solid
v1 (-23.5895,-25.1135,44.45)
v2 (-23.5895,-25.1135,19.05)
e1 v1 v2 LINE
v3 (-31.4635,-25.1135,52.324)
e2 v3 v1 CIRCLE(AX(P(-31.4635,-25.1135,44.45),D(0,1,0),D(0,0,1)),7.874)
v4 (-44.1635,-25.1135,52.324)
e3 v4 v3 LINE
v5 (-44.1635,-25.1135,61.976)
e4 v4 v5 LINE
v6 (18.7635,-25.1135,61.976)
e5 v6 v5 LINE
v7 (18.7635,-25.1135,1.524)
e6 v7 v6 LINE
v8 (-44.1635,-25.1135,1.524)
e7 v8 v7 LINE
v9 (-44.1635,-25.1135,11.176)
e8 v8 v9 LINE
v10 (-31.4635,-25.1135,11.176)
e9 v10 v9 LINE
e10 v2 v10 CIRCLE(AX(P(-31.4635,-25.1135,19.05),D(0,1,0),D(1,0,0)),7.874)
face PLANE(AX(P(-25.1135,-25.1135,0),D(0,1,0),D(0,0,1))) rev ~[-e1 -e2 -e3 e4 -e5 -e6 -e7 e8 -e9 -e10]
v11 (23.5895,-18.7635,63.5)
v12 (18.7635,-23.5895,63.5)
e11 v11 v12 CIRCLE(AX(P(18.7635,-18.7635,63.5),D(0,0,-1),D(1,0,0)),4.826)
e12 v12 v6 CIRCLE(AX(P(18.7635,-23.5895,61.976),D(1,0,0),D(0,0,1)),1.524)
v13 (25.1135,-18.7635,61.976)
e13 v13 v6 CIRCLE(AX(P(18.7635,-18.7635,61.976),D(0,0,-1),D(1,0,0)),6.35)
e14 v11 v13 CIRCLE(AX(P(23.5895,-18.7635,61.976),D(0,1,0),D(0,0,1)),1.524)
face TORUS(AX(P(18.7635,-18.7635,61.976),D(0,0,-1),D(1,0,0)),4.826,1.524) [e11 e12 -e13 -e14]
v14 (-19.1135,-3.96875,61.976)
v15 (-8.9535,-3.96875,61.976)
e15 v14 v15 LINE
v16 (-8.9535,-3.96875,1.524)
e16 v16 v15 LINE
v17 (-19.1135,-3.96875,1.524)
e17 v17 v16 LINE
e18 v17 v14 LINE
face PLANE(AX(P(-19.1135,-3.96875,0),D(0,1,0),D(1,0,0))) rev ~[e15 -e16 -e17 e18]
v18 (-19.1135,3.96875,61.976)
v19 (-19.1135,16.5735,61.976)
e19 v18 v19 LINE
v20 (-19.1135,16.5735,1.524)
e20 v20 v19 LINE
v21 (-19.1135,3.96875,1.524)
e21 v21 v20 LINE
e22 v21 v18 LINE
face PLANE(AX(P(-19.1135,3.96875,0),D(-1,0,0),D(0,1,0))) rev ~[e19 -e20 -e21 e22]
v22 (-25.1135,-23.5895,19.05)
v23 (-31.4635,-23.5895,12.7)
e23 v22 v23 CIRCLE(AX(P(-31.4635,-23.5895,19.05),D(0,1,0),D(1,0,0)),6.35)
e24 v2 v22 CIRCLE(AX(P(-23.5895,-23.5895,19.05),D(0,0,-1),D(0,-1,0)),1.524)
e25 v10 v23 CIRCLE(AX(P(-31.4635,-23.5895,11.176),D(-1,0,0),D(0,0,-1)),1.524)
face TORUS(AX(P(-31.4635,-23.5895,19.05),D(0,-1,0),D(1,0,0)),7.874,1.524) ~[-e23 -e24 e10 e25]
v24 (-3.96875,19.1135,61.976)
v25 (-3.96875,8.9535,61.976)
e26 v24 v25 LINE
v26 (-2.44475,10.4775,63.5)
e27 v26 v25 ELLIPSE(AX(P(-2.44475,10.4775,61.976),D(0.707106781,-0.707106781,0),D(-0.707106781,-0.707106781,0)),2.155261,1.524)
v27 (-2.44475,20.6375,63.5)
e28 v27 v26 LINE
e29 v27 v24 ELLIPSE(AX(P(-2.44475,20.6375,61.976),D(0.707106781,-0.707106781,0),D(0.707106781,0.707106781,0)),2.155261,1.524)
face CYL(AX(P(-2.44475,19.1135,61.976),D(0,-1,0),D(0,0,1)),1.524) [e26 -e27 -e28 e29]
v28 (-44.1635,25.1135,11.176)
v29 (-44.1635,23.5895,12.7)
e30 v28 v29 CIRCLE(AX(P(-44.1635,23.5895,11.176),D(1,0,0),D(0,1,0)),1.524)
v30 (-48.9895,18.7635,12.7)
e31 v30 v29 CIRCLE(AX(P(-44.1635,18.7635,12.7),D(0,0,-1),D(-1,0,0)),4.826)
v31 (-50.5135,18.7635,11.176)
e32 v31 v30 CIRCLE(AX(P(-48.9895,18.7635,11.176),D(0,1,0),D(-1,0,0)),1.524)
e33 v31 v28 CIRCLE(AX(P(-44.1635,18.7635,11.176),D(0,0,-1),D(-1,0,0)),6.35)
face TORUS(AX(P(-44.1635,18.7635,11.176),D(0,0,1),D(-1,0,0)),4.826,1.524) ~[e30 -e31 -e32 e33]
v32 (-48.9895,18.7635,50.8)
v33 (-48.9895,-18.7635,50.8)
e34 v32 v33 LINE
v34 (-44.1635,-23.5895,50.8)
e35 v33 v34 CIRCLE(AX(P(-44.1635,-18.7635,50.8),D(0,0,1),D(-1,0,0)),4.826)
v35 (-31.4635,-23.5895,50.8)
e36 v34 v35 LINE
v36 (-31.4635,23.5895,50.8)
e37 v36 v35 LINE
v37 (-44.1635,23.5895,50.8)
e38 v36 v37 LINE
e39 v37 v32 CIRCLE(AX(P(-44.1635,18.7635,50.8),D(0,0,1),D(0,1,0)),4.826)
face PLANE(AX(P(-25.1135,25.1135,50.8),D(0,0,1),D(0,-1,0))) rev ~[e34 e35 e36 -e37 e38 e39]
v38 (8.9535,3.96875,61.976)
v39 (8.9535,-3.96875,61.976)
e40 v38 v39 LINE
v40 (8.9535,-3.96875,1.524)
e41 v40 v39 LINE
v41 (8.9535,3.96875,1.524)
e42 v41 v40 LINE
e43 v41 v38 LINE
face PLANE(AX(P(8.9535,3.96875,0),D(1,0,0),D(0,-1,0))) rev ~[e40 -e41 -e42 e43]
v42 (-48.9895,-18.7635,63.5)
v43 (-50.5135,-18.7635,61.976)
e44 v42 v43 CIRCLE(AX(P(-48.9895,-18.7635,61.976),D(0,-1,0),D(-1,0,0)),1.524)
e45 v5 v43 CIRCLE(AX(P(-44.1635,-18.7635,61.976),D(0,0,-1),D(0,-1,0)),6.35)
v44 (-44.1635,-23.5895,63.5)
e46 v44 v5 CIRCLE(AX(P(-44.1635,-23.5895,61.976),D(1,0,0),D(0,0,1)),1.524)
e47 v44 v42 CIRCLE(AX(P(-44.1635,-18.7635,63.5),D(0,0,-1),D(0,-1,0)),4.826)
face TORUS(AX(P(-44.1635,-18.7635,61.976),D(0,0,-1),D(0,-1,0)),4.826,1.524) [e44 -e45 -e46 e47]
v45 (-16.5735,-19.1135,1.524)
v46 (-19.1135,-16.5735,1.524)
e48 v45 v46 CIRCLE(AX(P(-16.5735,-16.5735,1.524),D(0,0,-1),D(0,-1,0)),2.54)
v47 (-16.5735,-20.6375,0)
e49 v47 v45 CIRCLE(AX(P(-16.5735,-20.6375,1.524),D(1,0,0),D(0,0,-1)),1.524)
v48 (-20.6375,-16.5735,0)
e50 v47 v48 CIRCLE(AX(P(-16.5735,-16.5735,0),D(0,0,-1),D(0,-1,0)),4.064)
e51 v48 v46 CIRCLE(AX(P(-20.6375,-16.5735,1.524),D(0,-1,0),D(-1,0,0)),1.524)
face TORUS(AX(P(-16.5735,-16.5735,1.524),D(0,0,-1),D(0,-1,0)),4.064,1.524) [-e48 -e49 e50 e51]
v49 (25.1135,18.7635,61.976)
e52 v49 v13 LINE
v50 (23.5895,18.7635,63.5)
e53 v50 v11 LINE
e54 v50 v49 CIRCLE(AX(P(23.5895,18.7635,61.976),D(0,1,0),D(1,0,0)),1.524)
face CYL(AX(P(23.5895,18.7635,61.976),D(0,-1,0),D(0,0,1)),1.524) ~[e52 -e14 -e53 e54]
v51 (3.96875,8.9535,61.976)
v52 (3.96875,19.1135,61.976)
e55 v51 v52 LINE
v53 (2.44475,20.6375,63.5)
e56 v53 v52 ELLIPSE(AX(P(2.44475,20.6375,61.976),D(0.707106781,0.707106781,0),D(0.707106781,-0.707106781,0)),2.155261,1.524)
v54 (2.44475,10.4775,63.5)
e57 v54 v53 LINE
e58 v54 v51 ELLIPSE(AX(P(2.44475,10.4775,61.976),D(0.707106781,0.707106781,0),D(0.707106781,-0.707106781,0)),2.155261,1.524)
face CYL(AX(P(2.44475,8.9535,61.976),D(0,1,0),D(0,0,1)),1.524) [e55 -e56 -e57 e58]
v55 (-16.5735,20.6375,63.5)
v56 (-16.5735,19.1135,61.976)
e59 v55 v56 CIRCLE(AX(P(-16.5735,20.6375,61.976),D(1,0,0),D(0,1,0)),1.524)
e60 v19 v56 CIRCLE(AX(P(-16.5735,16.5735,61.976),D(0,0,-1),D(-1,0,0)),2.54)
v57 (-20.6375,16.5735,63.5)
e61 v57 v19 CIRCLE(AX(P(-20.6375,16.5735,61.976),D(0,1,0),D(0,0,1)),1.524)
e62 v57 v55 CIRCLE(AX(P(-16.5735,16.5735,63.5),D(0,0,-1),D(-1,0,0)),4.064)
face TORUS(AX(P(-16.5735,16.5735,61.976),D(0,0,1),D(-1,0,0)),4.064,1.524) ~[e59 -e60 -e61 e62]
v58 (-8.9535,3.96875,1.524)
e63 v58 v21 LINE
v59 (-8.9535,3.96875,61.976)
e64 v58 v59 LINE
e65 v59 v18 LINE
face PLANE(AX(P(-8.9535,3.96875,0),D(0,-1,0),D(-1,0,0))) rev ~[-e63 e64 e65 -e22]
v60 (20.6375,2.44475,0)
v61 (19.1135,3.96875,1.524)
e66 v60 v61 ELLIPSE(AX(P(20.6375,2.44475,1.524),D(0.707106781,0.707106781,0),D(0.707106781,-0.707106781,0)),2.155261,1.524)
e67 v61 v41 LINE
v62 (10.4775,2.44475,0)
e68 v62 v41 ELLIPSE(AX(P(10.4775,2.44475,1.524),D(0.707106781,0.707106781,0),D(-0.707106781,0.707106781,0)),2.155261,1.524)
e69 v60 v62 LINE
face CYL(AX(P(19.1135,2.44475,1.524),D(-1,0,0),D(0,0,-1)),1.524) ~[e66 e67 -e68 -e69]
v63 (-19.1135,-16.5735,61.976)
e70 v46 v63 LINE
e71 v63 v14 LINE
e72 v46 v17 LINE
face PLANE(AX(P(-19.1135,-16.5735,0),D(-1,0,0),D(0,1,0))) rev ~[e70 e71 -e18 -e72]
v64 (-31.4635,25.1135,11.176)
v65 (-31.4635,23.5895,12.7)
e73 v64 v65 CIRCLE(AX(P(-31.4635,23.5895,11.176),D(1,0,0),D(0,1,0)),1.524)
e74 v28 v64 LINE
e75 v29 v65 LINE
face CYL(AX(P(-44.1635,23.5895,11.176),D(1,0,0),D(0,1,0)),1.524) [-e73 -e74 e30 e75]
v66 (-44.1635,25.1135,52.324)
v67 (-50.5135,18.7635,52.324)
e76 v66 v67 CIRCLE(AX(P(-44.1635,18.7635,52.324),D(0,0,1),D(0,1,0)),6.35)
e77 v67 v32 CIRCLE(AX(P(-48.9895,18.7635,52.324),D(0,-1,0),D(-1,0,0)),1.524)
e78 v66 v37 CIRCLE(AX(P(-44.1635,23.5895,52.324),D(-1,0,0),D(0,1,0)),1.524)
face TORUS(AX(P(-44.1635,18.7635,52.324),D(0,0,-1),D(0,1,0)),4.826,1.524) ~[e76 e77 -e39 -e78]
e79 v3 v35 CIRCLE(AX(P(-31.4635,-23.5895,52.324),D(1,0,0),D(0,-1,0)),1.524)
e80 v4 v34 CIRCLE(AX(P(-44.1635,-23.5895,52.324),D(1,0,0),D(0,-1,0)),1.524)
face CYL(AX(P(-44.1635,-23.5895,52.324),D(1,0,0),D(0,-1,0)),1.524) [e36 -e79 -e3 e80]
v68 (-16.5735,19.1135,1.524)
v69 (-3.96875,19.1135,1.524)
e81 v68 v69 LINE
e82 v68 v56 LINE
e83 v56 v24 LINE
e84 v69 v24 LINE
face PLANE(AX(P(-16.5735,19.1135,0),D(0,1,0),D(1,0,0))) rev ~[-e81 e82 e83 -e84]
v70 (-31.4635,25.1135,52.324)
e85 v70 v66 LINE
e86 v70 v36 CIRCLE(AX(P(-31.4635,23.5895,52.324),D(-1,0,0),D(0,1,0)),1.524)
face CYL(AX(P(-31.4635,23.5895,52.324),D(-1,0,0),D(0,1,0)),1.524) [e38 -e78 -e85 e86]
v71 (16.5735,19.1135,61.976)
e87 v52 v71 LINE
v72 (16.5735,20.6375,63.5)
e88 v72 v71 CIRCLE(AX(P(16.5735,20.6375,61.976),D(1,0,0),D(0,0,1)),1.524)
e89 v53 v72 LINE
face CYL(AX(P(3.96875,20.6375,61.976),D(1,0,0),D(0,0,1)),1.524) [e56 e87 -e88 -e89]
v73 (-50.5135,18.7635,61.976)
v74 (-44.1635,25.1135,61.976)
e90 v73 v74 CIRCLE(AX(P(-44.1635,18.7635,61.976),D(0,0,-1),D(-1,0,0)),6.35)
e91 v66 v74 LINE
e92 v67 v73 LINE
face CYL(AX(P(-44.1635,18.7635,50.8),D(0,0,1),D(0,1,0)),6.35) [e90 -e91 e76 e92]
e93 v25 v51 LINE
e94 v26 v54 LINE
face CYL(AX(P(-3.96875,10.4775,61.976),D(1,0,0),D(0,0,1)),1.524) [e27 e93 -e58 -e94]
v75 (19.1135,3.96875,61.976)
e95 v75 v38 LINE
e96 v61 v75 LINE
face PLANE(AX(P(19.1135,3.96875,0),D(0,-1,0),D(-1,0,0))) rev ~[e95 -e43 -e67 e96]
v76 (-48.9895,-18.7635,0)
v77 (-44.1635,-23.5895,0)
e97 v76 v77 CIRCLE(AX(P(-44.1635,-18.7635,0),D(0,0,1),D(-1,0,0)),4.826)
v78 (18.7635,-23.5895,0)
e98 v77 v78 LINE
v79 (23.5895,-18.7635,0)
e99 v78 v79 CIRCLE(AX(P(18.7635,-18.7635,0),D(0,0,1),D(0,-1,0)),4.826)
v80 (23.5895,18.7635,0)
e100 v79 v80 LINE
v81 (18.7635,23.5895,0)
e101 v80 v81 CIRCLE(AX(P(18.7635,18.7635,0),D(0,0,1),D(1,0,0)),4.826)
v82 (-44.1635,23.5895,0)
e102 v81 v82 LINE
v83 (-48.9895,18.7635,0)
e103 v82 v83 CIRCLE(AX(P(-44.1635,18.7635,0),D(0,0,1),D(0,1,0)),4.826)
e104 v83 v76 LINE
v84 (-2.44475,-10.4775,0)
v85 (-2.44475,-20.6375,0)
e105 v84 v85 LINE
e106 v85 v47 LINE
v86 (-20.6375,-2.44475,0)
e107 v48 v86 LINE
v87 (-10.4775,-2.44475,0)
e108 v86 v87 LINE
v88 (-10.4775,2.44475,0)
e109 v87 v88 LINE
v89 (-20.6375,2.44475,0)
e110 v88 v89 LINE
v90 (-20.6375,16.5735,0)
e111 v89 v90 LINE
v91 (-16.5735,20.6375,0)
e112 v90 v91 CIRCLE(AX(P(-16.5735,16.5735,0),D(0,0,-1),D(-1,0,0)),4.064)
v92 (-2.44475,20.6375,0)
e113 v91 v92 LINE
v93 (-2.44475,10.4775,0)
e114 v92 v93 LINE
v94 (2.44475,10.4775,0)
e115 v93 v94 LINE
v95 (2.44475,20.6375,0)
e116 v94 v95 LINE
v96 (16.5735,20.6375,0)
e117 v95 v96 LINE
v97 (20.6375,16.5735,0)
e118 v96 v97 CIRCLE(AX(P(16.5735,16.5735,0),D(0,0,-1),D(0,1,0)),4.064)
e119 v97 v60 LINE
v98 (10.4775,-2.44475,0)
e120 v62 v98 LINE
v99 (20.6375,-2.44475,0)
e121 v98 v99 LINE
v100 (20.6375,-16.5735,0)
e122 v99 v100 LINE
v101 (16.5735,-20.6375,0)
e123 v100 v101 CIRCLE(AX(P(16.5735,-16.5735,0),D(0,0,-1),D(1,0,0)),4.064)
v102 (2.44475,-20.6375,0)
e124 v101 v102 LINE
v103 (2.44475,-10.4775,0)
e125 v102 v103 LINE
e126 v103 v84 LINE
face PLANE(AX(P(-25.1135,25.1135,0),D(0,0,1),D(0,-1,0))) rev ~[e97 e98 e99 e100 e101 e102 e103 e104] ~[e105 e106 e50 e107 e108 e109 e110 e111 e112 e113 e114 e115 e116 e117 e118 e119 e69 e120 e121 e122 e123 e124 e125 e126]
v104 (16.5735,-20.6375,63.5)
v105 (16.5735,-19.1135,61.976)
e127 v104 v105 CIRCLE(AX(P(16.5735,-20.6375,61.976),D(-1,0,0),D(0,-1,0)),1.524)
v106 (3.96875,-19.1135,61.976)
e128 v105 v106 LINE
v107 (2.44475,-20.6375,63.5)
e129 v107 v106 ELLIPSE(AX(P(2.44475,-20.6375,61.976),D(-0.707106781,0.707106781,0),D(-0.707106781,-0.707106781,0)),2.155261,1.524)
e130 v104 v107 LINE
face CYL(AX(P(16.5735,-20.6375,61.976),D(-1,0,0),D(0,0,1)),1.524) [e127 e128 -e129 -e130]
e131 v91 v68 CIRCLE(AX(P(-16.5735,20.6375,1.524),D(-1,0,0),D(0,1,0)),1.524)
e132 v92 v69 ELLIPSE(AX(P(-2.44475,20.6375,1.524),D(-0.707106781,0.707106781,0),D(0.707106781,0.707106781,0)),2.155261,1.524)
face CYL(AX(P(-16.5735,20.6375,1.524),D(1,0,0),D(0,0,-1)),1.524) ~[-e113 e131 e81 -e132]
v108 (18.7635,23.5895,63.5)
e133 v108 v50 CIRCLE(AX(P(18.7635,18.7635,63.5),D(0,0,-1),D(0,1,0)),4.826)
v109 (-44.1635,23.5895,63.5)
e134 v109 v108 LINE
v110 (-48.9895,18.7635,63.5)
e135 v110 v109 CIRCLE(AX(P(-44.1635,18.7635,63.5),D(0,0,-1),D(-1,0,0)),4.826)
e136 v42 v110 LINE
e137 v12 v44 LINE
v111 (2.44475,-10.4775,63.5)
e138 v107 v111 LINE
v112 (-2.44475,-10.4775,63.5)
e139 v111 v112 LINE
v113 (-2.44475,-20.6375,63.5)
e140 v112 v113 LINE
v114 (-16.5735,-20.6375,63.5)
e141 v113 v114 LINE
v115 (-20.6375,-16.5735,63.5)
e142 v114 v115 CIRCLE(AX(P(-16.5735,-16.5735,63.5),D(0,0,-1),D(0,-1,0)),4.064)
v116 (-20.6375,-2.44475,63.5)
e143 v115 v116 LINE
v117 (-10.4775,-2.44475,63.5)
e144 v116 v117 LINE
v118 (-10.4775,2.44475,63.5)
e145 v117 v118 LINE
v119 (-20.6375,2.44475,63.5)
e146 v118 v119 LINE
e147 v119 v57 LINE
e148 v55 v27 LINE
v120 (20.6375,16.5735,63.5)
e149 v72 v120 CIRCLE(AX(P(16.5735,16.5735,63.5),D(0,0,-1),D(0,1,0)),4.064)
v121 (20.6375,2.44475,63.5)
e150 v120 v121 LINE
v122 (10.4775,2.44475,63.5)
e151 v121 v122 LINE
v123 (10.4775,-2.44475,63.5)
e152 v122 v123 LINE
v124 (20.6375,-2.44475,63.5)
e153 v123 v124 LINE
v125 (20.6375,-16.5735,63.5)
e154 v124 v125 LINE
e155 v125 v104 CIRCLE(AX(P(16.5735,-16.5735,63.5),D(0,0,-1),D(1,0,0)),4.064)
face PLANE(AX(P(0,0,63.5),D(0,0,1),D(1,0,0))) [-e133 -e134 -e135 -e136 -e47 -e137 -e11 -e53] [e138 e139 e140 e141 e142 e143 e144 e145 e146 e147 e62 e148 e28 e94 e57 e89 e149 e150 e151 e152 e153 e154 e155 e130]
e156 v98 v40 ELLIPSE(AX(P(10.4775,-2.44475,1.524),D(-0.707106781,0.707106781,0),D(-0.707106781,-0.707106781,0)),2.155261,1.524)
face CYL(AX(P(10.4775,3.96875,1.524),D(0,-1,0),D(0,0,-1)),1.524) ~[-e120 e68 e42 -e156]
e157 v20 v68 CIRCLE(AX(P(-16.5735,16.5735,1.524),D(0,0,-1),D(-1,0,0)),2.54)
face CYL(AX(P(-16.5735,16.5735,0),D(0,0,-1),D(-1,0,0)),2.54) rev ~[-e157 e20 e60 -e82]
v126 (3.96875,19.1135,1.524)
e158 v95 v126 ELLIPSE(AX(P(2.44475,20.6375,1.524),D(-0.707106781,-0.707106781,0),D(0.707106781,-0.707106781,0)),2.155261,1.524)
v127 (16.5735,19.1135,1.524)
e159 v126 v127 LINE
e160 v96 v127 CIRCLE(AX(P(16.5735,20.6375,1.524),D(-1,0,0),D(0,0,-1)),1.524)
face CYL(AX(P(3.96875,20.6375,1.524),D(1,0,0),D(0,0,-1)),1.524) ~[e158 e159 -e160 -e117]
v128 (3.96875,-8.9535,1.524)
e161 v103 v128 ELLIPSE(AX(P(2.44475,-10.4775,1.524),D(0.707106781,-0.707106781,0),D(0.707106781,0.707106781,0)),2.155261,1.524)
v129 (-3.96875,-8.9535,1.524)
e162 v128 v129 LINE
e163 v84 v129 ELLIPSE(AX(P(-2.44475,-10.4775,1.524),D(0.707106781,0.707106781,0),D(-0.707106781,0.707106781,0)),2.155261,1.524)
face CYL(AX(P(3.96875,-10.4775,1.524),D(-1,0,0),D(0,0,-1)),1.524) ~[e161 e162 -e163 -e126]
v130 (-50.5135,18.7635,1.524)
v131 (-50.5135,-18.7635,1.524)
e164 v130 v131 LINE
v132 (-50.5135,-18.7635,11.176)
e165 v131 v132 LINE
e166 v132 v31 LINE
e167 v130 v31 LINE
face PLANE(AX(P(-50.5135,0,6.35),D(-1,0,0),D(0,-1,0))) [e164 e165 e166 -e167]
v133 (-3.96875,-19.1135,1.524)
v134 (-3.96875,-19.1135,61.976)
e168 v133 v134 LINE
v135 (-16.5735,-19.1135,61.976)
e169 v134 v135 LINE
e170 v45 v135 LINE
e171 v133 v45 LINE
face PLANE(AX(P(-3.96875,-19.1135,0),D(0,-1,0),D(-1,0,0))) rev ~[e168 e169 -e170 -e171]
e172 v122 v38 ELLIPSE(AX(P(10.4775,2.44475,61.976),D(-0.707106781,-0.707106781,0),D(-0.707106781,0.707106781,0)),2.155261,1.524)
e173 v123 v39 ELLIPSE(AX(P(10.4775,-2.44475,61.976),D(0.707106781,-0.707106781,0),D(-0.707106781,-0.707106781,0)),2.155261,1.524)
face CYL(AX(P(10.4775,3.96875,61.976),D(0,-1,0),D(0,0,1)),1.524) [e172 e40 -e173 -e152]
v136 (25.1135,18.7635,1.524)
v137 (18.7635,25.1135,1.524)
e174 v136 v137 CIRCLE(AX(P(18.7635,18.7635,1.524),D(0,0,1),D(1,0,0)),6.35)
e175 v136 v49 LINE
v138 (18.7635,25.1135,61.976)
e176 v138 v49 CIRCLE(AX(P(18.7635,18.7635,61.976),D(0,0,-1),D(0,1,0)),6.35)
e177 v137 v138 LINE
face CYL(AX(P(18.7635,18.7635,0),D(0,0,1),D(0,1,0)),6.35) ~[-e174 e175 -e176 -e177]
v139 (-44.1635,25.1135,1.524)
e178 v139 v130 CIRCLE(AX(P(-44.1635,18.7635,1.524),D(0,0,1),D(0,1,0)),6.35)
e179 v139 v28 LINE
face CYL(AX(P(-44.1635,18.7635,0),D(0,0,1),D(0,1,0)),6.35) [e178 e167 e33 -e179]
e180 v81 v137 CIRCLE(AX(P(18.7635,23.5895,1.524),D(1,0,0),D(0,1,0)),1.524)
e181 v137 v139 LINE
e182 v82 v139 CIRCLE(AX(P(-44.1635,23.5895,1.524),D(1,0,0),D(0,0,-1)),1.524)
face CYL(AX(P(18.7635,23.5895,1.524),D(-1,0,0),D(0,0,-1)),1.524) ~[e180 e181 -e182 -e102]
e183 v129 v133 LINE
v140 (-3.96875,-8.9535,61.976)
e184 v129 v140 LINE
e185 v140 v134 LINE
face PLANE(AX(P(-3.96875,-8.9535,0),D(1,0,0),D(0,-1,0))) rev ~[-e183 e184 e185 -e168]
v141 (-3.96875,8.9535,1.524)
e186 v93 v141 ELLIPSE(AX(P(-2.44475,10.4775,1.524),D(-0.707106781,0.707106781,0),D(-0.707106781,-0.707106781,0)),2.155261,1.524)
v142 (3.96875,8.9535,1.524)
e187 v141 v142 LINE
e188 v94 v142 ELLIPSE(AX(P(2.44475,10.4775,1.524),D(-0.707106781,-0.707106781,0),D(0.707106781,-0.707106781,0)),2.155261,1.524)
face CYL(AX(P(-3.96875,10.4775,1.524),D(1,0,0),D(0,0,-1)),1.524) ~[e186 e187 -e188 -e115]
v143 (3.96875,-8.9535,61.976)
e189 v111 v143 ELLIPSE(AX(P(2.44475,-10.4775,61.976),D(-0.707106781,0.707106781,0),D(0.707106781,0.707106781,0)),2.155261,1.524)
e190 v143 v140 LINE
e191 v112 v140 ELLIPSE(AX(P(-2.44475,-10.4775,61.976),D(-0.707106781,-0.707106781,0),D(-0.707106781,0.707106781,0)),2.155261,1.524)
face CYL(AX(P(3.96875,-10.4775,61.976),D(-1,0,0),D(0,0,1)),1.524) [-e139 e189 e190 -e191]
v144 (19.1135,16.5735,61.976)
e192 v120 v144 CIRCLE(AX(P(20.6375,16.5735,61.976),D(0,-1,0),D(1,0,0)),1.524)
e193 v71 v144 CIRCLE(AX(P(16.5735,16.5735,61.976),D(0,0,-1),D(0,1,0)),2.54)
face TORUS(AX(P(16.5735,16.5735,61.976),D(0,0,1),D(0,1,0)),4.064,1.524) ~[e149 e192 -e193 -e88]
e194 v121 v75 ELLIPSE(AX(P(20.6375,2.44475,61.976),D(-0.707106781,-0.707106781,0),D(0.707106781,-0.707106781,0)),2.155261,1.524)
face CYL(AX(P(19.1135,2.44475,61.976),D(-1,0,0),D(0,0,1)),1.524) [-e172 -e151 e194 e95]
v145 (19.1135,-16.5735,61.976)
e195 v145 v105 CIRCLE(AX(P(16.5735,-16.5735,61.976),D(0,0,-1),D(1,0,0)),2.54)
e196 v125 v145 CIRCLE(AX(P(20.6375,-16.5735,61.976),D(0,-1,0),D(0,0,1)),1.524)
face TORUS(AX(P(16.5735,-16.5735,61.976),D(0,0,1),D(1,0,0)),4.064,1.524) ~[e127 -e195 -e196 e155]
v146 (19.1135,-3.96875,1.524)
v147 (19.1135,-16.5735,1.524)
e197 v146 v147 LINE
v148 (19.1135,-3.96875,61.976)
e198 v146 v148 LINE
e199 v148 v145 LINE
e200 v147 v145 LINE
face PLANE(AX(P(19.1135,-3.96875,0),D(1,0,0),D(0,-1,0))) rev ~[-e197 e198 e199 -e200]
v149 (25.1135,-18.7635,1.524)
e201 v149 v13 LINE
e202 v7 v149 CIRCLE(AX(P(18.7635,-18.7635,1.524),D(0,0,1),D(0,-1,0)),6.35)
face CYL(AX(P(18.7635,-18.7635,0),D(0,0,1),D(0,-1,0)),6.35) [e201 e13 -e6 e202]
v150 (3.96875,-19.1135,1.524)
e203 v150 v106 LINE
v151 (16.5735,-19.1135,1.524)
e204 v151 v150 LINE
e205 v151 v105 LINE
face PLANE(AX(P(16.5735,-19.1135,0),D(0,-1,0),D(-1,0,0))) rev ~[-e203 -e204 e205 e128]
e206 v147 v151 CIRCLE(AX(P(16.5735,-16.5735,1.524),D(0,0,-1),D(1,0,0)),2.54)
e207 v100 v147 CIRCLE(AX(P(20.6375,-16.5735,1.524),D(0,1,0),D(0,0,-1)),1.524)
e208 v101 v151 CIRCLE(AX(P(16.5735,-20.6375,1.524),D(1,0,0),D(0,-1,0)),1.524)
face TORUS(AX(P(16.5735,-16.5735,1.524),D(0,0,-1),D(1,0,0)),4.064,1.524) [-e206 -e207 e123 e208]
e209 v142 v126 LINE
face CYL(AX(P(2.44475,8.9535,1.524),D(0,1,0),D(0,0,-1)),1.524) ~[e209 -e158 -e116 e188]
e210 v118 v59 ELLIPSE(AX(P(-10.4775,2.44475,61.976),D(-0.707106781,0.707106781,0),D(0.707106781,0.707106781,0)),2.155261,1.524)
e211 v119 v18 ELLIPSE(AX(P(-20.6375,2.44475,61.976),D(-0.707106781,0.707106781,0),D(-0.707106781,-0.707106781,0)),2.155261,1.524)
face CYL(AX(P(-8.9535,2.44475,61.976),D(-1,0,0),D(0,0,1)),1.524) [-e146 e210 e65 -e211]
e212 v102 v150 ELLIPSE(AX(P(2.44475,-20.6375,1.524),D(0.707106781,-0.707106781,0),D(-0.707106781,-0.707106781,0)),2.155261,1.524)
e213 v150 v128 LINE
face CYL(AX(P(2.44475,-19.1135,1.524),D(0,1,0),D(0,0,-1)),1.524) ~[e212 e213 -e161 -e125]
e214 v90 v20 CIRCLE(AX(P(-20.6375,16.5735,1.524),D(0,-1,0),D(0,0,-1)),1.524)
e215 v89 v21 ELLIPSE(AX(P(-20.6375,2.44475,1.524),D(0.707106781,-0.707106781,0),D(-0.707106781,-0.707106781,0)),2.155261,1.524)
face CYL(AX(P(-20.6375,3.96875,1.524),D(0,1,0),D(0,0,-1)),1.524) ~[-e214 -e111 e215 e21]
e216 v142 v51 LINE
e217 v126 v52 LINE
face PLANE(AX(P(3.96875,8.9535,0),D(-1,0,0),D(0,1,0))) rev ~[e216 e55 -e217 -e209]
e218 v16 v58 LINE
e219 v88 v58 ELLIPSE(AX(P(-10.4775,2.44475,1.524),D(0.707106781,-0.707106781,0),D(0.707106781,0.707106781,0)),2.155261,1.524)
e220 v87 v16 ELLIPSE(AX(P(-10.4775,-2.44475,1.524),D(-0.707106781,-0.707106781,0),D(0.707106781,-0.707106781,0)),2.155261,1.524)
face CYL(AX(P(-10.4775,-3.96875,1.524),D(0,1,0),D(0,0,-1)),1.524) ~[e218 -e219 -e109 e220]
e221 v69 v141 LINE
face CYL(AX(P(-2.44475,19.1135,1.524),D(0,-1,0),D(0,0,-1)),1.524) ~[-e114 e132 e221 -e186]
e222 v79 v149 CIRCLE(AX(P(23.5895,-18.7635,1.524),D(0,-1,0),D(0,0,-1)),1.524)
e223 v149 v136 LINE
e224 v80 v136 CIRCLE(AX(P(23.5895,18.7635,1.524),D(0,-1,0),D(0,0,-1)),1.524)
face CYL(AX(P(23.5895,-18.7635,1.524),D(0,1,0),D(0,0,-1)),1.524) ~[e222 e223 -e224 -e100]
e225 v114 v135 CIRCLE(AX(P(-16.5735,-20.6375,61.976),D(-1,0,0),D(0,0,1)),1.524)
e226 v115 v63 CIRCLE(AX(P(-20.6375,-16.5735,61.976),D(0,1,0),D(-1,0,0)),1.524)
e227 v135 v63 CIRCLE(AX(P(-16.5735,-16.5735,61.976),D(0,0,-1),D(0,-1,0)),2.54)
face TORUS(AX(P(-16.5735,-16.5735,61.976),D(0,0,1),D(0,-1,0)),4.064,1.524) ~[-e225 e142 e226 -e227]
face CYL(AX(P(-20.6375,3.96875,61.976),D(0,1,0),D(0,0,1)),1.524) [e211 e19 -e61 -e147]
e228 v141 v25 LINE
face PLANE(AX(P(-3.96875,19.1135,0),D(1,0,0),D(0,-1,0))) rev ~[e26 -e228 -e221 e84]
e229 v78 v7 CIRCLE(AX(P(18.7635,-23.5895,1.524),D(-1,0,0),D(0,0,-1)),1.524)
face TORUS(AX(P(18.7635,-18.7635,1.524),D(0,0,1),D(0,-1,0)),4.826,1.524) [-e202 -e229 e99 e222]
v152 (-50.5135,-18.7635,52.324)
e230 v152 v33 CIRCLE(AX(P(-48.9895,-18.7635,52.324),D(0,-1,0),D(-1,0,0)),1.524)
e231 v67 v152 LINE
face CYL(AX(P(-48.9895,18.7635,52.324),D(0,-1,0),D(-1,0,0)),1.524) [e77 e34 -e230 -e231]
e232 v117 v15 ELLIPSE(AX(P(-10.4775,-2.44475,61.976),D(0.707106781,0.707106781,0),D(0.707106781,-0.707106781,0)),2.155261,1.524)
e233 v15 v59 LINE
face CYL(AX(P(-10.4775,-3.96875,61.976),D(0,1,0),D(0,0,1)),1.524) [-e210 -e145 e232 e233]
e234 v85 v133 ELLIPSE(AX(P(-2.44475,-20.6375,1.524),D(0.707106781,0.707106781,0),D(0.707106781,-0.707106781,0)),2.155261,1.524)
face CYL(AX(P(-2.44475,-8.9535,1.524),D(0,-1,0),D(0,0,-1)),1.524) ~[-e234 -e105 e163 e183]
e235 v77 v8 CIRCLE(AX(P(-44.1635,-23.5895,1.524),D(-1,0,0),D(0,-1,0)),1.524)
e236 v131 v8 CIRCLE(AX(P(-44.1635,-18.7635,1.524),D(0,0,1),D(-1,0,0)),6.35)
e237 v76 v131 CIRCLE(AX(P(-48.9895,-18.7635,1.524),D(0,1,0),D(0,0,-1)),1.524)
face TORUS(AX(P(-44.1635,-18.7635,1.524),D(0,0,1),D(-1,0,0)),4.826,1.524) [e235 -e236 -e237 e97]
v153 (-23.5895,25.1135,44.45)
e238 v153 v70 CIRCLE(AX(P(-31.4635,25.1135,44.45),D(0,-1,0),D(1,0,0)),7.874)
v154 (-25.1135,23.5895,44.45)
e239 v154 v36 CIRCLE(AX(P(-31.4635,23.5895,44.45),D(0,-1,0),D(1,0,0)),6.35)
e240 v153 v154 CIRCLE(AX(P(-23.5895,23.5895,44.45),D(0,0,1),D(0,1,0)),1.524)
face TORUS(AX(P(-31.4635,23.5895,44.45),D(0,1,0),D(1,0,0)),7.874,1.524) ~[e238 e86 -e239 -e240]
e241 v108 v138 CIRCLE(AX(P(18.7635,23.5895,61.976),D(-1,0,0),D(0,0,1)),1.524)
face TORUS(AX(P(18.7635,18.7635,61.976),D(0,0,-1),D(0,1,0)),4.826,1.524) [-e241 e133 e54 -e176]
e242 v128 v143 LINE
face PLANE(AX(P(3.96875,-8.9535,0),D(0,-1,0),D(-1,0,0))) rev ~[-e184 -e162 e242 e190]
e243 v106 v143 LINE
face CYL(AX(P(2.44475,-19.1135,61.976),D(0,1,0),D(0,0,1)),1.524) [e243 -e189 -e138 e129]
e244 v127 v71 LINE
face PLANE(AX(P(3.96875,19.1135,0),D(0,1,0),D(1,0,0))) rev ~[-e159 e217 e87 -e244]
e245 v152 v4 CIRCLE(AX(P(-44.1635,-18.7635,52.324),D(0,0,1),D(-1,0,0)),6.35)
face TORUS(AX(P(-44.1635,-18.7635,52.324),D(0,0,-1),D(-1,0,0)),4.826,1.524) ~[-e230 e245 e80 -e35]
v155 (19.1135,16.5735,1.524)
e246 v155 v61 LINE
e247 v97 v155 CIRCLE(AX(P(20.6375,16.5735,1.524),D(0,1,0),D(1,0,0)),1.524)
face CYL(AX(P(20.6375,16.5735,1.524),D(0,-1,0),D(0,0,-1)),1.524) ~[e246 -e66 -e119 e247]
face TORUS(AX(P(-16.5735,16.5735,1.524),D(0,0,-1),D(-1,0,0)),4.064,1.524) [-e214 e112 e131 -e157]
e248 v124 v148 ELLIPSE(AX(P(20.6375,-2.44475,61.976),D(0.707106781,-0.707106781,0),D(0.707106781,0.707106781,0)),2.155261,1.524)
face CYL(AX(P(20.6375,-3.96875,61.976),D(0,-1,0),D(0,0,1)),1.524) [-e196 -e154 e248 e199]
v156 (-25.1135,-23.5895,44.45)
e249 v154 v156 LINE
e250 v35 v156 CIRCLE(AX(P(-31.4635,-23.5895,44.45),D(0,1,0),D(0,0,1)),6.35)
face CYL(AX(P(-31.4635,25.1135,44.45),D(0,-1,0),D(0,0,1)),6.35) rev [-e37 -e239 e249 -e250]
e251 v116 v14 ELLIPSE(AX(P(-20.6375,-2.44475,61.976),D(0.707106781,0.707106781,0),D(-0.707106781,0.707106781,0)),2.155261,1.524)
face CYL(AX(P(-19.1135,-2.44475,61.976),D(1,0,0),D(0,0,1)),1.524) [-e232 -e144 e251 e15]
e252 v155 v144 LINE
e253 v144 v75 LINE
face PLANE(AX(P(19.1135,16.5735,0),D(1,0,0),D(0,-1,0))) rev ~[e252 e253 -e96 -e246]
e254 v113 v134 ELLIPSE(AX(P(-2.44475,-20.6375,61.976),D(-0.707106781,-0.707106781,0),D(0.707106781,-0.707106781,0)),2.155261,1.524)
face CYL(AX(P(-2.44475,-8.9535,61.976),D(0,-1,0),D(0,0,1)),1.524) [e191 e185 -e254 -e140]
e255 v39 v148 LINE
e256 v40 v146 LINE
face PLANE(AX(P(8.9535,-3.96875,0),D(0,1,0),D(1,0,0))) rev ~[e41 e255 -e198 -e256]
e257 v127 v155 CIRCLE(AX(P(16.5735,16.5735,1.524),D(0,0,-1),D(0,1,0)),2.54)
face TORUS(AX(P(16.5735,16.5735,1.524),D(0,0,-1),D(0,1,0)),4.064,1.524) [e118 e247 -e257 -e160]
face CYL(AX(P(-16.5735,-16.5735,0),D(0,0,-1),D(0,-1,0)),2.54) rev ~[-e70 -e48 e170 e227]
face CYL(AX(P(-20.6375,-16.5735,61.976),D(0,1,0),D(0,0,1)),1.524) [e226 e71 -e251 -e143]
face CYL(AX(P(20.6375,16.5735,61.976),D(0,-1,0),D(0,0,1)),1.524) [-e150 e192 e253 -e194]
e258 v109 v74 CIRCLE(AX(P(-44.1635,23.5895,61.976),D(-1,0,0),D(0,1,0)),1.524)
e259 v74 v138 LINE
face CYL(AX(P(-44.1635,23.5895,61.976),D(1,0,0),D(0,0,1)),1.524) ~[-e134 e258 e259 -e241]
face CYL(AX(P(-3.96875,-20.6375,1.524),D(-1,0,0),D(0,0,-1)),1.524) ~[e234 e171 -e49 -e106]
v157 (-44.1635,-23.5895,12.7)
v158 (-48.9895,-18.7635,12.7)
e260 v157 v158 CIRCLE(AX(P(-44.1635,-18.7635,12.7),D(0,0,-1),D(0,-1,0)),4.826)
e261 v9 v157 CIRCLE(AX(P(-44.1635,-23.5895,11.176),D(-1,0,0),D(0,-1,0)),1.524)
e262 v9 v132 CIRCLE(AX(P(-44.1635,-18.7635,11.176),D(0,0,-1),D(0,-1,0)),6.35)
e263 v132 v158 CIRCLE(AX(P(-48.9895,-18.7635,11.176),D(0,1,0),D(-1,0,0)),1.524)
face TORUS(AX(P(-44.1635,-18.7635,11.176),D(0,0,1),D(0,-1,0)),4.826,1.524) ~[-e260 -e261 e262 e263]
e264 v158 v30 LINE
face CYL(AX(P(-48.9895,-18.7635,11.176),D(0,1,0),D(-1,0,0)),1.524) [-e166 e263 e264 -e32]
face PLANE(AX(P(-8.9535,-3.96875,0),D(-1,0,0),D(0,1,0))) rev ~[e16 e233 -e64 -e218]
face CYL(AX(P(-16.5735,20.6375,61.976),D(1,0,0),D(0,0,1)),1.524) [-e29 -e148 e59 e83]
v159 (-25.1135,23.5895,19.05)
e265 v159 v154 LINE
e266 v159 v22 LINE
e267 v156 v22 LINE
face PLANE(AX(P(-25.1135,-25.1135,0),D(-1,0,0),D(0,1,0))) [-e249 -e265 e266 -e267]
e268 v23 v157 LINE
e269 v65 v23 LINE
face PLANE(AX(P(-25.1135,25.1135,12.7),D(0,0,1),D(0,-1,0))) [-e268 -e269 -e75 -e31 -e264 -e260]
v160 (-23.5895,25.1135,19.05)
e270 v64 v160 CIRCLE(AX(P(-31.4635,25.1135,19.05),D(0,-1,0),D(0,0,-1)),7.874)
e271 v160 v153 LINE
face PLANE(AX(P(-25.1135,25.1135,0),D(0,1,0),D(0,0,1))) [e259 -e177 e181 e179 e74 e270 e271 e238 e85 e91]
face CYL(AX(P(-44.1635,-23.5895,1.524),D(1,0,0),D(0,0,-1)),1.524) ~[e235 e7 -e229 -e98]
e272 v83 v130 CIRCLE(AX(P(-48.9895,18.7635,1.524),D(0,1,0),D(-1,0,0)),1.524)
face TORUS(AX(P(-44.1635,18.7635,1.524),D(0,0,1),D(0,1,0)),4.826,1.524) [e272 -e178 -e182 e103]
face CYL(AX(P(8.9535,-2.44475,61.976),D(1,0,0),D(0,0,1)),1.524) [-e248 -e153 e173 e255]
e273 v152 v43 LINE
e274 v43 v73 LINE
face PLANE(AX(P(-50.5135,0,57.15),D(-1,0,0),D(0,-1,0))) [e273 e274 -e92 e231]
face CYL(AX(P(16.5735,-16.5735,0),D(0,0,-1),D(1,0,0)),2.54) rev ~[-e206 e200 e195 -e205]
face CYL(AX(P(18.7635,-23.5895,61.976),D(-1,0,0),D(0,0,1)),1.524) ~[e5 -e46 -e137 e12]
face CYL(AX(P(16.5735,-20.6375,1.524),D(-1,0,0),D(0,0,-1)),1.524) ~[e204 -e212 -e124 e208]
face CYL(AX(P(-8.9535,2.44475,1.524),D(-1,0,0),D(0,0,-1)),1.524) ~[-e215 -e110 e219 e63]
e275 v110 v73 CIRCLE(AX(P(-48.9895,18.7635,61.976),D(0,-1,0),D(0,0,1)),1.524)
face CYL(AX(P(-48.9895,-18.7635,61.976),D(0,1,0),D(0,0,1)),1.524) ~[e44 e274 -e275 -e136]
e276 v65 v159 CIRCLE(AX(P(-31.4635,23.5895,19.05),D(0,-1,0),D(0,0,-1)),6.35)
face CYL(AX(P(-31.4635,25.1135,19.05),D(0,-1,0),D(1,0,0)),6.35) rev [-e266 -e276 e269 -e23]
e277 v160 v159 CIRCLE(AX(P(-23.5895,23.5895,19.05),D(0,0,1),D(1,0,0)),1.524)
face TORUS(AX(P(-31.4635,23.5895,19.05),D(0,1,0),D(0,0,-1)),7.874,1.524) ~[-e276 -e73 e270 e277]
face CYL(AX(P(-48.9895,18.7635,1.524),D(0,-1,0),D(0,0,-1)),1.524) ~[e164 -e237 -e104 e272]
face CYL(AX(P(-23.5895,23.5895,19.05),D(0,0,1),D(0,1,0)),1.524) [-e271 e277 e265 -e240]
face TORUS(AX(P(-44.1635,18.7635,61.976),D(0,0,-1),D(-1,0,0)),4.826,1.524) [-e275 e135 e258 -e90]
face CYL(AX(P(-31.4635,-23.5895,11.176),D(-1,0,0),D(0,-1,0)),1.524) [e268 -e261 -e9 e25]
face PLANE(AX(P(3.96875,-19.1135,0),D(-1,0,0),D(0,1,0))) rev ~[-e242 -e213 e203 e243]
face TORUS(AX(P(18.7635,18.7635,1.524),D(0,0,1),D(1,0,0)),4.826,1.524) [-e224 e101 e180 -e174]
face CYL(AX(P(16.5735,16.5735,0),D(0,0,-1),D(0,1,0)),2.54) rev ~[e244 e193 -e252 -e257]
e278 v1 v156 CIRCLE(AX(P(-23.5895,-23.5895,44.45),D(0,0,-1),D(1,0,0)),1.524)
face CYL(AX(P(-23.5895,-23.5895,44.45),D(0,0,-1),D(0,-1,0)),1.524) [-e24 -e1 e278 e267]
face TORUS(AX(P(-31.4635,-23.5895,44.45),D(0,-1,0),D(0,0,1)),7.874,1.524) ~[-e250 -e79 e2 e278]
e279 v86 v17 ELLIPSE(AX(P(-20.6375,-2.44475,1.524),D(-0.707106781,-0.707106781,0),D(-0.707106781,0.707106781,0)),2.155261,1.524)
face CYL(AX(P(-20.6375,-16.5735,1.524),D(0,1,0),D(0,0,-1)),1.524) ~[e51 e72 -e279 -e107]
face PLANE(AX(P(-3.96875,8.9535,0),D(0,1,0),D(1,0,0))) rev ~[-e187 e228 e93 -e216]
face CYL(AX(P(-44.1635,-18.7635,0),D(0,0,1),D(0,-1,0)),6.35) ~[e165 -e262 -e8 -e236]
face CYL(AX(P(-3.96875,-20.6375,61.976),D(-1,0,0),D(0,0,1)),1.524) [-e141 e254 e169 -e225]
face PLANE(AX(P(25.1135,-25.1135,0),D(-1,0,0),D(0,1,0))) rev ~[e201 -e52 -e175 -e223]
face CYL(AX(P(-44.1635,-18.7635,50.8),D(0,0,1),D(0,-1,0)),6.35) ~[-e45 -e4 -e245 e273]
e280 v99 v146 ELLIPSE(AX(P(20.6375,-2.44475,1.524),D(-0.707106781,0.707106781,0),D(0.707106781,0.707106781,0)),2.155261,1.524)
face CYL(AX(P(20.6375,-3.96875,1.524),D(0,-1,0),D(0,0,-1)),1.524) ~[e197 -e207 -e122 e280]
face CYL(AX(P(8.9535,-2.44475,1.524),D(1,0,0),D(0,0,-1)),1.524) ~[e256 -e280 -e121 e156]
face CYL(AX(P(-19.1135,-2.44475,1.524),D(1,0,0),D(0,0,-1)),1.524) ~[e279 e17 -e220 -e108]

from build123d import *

# Parameters (mm, degrees)
F0_W     = 50.227
F0_H     = 50.227
F1_DEPTH = 63.5
F2_W     = 50.227
F2_H     = 12.7
F3_DEPTH = 25.4
F4_R     = 6.35
F5_R     = 1.524


with BuildPart() as f1:
    # F0 (on Top) → F1 (new body)
    with BuildSketch(Plane.XY):
        Rectangle(F0_W, F0_H)
        with BuildLine():
            ThreePointArc((19.1135, -16.5735), (18.3695512242, -18.3695512242), (16.5735, -19.1135))
            Line((16.5735, -19.1135), (3.96875, -19.1135))
            Line((3.96875, -19.1135), (3.96875, -8.9535))
            Line((3.96875, -8.9535), (-3.96875, -8.9535))
            Line((-3.96875, -8.9535), (-3.96875, -19.1135))
            Line((-3.96875, -19.1135), (-16.5735, -19.1135))
            ThreePointArc((-16.5735, -19.1135), (-18.3695512242, -18.3695512242), (-19.1135, -16.5735))
            Line((-19.1135, -16.5735), (-19.1135, -3.96875))
            Line((-19.1135, -3.96875), (-8.9535, -3.96875))
            Line((-8.9535, -3.96875), (-8.9535, 3.96875))
            Line((-8.9535, 3.96875), (-19.1135, 3.96875))
            Line((-19.1135, 3.96875), (-19.1135, 16.5735))
            ThreePointArc((-19.1135, 16.5735), (-18.3695512242, 18.3695512242), (-16.5735, 19.1135))
            Line((-16.5735, 19.1135), (-3.96875, 19.1135))
            Line((-3.96875, 19.1135), (-3.96875, 8.9535))
            Line((-3.96875, 8.9535), (0, 8.9535))
            Line((0, 8.9535), (3.96875, 8.9535))
            Line((3.96875, 8.9535), (3.96875, 19.1135))
            Line((3.96875, 19.1135), (16.5735, 19.1135))
            ThreePointArc((16.5735, 19.1135), (18.3695512242, 18.3695512242), (19.1135, 16.5735))
            Line((19.1135, 16.5735), (19.1135, 3.96875))
            Line((19.1135, 3.96875), (8.9535, 3.96875))
            Line((8.9535, 3.96875), (8.9535, -3.96875))
            Line((8.9535, -3.96875), (19.1135, -3.96875))
            Line((19.1135, -3.96875), (19.1135, -16.5735))
        make_face(mode=Mode.SUBTRACT)
    extrude(amount=F1_DEPTH)

    # F2 (on face) → F3 (join)
    with BuildSketch(Plane(origin=(-25.1135, 0, 0), x_dir=(0, -1, 0), z_dir=(-1, 0, 0))):
        with Locations((0, 6.35)):
            Rectangle(F2_W, F2_H)
        with Locations((0, 57.15)):
            Rectangle(F2_W, F2_H)
    extrude(amount=F3_DEPTH)

    # F4
    f4_edges = [f1.edges().sort_by_distance(p)[0] for p in [
        (-25.1135, 0, 12.7),
        (-25.1135, 0, 50.8),
        (-50.5135, -25.1135, 6.35),
        (-50.5135, 25.1135, 6.35),
        (-50.5135, 25.1135, 57.15),
        (-50.5135, -25.1135, 57.15),
        (25.1135, -25.1135, 31.75),
        (25.1135, 25.1135, 31.75),
    ]]
    fillet(f4_edges, radius=F4_R)

    # F5
    f5_edges = [f1.edges().sort_by_distance(p)[0] for p in [
        (25.1135, 0, 0),
        (23.253628, -23.253628, 0),
        (23.253628, 23.253628, 0),
        (-12.7, -25.1135, 0),
        (-12.7, 25.1135, 0),
        (-48.653628, -23.253628, 0),
        (-48.653628, 23.253628, 0),
        (-50.5135, 0, 0),
        (19.1135, 10.271125, 0),
        (14.0335, 3.96875, 0),
        (8.9535, 0, 0),
        (14.0335, -3.96875, 0),
        (19.1135, -10.271125, 0),
        (18.369551, -18.369551, 0),
        (10.271125, -19.1135, 0),
        (3.96875, -14.0335, 0),
        (0, -8.9535, 0),
        (-3.96875, -14.0335, 0),
        (-10.271125, -19.1135, 0),
        (-18.369551, -18.369551, 0),
        (-19.1135, -10.271125, 0),
        (-14.0335, -3.96875, 0),
        (-8.9535, 0, 0),
        (-14.0335, 3.96875, 0),
        (-19.1135, 10.271125, 0),
        (-18.369551, 18.369551, 0),
        (-10.271125, 19.1135, 0),
        (-3.96875, 14.0335, 0),
        (0, 8.9535, 0),
        (3.96875, 14.0335, 0),
        (10.271125, 19.1135, 0),
        (18.369551, 18.369551, 0),
        (-12.7, -25.1135, 63.5),
        (23.253628, -23.253628, 63.5),
        (-48.653628, -23.253628, 63.5),
        (25.1135, 0, 63.5),
        (-50.5135, 0, 63.5),
        (23.253628, 23.253628, 63.5),
        (-48.653628, 23.253628, 63.5),
        (-12.7, 25.1135, 63.5),
        (19.1135, 10.271125, 63.5),
        (14.0335, 3.96875, 63.5),
        (8.9535, 0, 63.5),
        (14.0335, -3.96875, 63.5),
        (19.1135, -10.271125, 63.5),
        (18.369551, -18.369551, 63.5),
        (10.271125, -19.1135, 63.5),
        (3.96875, -14.0335, 63.5),
        (0, -8.9535, 63.5),
        (-3.96875, -14.0335, 63.5),
        (-10.271125, -19.1135, 63.5),
        (-18.369551, -18.369551, 63.5),
        (-19.1135, -10.271125, 63.5),
        (-14.0335, -3.96875, 63.5),
        (-8.9535, 0, 63.5),
        (-14.0335, 3.96875, 63.5),
        (-19.1135, 10.271125, 63.5),
        (-18.369551, 18.369551, 63.5),
        (-10.271125, 19.1135, 63.5),
        (-3.96875, 14.0335, 63.5),
        (0, 8.9535, 63.5),
        (3.96875, 14.0335, 63.5),
        (10.271125, 19.1135, 63.5),
        (18.369551, 18.369551, 63.5),
        (-37.8135, 25.1135, 50.8),
        (-31.4635, 0, 50.8),
        (-48.653628, 23.253628, 50.8),
        (-37.8135, -25.1135, 50.8),
        (-50.5135, 0, 50.8),
        (-48.653628, -23.253628, 50.8),
        (-37.8135, -25.1135, 12.7),
        (-31.4635, 0, 12.7),
        (-48.653628, -23.253628, 12.7),
        (-37.8135, 25.1135, 12.7),
        (-50.5135, 0, 12.7),
        (-48.653628, 23.253628, 12.7),
    ]]
    fillet(f5_edges, radius=F5_R)


solid = f1.part
